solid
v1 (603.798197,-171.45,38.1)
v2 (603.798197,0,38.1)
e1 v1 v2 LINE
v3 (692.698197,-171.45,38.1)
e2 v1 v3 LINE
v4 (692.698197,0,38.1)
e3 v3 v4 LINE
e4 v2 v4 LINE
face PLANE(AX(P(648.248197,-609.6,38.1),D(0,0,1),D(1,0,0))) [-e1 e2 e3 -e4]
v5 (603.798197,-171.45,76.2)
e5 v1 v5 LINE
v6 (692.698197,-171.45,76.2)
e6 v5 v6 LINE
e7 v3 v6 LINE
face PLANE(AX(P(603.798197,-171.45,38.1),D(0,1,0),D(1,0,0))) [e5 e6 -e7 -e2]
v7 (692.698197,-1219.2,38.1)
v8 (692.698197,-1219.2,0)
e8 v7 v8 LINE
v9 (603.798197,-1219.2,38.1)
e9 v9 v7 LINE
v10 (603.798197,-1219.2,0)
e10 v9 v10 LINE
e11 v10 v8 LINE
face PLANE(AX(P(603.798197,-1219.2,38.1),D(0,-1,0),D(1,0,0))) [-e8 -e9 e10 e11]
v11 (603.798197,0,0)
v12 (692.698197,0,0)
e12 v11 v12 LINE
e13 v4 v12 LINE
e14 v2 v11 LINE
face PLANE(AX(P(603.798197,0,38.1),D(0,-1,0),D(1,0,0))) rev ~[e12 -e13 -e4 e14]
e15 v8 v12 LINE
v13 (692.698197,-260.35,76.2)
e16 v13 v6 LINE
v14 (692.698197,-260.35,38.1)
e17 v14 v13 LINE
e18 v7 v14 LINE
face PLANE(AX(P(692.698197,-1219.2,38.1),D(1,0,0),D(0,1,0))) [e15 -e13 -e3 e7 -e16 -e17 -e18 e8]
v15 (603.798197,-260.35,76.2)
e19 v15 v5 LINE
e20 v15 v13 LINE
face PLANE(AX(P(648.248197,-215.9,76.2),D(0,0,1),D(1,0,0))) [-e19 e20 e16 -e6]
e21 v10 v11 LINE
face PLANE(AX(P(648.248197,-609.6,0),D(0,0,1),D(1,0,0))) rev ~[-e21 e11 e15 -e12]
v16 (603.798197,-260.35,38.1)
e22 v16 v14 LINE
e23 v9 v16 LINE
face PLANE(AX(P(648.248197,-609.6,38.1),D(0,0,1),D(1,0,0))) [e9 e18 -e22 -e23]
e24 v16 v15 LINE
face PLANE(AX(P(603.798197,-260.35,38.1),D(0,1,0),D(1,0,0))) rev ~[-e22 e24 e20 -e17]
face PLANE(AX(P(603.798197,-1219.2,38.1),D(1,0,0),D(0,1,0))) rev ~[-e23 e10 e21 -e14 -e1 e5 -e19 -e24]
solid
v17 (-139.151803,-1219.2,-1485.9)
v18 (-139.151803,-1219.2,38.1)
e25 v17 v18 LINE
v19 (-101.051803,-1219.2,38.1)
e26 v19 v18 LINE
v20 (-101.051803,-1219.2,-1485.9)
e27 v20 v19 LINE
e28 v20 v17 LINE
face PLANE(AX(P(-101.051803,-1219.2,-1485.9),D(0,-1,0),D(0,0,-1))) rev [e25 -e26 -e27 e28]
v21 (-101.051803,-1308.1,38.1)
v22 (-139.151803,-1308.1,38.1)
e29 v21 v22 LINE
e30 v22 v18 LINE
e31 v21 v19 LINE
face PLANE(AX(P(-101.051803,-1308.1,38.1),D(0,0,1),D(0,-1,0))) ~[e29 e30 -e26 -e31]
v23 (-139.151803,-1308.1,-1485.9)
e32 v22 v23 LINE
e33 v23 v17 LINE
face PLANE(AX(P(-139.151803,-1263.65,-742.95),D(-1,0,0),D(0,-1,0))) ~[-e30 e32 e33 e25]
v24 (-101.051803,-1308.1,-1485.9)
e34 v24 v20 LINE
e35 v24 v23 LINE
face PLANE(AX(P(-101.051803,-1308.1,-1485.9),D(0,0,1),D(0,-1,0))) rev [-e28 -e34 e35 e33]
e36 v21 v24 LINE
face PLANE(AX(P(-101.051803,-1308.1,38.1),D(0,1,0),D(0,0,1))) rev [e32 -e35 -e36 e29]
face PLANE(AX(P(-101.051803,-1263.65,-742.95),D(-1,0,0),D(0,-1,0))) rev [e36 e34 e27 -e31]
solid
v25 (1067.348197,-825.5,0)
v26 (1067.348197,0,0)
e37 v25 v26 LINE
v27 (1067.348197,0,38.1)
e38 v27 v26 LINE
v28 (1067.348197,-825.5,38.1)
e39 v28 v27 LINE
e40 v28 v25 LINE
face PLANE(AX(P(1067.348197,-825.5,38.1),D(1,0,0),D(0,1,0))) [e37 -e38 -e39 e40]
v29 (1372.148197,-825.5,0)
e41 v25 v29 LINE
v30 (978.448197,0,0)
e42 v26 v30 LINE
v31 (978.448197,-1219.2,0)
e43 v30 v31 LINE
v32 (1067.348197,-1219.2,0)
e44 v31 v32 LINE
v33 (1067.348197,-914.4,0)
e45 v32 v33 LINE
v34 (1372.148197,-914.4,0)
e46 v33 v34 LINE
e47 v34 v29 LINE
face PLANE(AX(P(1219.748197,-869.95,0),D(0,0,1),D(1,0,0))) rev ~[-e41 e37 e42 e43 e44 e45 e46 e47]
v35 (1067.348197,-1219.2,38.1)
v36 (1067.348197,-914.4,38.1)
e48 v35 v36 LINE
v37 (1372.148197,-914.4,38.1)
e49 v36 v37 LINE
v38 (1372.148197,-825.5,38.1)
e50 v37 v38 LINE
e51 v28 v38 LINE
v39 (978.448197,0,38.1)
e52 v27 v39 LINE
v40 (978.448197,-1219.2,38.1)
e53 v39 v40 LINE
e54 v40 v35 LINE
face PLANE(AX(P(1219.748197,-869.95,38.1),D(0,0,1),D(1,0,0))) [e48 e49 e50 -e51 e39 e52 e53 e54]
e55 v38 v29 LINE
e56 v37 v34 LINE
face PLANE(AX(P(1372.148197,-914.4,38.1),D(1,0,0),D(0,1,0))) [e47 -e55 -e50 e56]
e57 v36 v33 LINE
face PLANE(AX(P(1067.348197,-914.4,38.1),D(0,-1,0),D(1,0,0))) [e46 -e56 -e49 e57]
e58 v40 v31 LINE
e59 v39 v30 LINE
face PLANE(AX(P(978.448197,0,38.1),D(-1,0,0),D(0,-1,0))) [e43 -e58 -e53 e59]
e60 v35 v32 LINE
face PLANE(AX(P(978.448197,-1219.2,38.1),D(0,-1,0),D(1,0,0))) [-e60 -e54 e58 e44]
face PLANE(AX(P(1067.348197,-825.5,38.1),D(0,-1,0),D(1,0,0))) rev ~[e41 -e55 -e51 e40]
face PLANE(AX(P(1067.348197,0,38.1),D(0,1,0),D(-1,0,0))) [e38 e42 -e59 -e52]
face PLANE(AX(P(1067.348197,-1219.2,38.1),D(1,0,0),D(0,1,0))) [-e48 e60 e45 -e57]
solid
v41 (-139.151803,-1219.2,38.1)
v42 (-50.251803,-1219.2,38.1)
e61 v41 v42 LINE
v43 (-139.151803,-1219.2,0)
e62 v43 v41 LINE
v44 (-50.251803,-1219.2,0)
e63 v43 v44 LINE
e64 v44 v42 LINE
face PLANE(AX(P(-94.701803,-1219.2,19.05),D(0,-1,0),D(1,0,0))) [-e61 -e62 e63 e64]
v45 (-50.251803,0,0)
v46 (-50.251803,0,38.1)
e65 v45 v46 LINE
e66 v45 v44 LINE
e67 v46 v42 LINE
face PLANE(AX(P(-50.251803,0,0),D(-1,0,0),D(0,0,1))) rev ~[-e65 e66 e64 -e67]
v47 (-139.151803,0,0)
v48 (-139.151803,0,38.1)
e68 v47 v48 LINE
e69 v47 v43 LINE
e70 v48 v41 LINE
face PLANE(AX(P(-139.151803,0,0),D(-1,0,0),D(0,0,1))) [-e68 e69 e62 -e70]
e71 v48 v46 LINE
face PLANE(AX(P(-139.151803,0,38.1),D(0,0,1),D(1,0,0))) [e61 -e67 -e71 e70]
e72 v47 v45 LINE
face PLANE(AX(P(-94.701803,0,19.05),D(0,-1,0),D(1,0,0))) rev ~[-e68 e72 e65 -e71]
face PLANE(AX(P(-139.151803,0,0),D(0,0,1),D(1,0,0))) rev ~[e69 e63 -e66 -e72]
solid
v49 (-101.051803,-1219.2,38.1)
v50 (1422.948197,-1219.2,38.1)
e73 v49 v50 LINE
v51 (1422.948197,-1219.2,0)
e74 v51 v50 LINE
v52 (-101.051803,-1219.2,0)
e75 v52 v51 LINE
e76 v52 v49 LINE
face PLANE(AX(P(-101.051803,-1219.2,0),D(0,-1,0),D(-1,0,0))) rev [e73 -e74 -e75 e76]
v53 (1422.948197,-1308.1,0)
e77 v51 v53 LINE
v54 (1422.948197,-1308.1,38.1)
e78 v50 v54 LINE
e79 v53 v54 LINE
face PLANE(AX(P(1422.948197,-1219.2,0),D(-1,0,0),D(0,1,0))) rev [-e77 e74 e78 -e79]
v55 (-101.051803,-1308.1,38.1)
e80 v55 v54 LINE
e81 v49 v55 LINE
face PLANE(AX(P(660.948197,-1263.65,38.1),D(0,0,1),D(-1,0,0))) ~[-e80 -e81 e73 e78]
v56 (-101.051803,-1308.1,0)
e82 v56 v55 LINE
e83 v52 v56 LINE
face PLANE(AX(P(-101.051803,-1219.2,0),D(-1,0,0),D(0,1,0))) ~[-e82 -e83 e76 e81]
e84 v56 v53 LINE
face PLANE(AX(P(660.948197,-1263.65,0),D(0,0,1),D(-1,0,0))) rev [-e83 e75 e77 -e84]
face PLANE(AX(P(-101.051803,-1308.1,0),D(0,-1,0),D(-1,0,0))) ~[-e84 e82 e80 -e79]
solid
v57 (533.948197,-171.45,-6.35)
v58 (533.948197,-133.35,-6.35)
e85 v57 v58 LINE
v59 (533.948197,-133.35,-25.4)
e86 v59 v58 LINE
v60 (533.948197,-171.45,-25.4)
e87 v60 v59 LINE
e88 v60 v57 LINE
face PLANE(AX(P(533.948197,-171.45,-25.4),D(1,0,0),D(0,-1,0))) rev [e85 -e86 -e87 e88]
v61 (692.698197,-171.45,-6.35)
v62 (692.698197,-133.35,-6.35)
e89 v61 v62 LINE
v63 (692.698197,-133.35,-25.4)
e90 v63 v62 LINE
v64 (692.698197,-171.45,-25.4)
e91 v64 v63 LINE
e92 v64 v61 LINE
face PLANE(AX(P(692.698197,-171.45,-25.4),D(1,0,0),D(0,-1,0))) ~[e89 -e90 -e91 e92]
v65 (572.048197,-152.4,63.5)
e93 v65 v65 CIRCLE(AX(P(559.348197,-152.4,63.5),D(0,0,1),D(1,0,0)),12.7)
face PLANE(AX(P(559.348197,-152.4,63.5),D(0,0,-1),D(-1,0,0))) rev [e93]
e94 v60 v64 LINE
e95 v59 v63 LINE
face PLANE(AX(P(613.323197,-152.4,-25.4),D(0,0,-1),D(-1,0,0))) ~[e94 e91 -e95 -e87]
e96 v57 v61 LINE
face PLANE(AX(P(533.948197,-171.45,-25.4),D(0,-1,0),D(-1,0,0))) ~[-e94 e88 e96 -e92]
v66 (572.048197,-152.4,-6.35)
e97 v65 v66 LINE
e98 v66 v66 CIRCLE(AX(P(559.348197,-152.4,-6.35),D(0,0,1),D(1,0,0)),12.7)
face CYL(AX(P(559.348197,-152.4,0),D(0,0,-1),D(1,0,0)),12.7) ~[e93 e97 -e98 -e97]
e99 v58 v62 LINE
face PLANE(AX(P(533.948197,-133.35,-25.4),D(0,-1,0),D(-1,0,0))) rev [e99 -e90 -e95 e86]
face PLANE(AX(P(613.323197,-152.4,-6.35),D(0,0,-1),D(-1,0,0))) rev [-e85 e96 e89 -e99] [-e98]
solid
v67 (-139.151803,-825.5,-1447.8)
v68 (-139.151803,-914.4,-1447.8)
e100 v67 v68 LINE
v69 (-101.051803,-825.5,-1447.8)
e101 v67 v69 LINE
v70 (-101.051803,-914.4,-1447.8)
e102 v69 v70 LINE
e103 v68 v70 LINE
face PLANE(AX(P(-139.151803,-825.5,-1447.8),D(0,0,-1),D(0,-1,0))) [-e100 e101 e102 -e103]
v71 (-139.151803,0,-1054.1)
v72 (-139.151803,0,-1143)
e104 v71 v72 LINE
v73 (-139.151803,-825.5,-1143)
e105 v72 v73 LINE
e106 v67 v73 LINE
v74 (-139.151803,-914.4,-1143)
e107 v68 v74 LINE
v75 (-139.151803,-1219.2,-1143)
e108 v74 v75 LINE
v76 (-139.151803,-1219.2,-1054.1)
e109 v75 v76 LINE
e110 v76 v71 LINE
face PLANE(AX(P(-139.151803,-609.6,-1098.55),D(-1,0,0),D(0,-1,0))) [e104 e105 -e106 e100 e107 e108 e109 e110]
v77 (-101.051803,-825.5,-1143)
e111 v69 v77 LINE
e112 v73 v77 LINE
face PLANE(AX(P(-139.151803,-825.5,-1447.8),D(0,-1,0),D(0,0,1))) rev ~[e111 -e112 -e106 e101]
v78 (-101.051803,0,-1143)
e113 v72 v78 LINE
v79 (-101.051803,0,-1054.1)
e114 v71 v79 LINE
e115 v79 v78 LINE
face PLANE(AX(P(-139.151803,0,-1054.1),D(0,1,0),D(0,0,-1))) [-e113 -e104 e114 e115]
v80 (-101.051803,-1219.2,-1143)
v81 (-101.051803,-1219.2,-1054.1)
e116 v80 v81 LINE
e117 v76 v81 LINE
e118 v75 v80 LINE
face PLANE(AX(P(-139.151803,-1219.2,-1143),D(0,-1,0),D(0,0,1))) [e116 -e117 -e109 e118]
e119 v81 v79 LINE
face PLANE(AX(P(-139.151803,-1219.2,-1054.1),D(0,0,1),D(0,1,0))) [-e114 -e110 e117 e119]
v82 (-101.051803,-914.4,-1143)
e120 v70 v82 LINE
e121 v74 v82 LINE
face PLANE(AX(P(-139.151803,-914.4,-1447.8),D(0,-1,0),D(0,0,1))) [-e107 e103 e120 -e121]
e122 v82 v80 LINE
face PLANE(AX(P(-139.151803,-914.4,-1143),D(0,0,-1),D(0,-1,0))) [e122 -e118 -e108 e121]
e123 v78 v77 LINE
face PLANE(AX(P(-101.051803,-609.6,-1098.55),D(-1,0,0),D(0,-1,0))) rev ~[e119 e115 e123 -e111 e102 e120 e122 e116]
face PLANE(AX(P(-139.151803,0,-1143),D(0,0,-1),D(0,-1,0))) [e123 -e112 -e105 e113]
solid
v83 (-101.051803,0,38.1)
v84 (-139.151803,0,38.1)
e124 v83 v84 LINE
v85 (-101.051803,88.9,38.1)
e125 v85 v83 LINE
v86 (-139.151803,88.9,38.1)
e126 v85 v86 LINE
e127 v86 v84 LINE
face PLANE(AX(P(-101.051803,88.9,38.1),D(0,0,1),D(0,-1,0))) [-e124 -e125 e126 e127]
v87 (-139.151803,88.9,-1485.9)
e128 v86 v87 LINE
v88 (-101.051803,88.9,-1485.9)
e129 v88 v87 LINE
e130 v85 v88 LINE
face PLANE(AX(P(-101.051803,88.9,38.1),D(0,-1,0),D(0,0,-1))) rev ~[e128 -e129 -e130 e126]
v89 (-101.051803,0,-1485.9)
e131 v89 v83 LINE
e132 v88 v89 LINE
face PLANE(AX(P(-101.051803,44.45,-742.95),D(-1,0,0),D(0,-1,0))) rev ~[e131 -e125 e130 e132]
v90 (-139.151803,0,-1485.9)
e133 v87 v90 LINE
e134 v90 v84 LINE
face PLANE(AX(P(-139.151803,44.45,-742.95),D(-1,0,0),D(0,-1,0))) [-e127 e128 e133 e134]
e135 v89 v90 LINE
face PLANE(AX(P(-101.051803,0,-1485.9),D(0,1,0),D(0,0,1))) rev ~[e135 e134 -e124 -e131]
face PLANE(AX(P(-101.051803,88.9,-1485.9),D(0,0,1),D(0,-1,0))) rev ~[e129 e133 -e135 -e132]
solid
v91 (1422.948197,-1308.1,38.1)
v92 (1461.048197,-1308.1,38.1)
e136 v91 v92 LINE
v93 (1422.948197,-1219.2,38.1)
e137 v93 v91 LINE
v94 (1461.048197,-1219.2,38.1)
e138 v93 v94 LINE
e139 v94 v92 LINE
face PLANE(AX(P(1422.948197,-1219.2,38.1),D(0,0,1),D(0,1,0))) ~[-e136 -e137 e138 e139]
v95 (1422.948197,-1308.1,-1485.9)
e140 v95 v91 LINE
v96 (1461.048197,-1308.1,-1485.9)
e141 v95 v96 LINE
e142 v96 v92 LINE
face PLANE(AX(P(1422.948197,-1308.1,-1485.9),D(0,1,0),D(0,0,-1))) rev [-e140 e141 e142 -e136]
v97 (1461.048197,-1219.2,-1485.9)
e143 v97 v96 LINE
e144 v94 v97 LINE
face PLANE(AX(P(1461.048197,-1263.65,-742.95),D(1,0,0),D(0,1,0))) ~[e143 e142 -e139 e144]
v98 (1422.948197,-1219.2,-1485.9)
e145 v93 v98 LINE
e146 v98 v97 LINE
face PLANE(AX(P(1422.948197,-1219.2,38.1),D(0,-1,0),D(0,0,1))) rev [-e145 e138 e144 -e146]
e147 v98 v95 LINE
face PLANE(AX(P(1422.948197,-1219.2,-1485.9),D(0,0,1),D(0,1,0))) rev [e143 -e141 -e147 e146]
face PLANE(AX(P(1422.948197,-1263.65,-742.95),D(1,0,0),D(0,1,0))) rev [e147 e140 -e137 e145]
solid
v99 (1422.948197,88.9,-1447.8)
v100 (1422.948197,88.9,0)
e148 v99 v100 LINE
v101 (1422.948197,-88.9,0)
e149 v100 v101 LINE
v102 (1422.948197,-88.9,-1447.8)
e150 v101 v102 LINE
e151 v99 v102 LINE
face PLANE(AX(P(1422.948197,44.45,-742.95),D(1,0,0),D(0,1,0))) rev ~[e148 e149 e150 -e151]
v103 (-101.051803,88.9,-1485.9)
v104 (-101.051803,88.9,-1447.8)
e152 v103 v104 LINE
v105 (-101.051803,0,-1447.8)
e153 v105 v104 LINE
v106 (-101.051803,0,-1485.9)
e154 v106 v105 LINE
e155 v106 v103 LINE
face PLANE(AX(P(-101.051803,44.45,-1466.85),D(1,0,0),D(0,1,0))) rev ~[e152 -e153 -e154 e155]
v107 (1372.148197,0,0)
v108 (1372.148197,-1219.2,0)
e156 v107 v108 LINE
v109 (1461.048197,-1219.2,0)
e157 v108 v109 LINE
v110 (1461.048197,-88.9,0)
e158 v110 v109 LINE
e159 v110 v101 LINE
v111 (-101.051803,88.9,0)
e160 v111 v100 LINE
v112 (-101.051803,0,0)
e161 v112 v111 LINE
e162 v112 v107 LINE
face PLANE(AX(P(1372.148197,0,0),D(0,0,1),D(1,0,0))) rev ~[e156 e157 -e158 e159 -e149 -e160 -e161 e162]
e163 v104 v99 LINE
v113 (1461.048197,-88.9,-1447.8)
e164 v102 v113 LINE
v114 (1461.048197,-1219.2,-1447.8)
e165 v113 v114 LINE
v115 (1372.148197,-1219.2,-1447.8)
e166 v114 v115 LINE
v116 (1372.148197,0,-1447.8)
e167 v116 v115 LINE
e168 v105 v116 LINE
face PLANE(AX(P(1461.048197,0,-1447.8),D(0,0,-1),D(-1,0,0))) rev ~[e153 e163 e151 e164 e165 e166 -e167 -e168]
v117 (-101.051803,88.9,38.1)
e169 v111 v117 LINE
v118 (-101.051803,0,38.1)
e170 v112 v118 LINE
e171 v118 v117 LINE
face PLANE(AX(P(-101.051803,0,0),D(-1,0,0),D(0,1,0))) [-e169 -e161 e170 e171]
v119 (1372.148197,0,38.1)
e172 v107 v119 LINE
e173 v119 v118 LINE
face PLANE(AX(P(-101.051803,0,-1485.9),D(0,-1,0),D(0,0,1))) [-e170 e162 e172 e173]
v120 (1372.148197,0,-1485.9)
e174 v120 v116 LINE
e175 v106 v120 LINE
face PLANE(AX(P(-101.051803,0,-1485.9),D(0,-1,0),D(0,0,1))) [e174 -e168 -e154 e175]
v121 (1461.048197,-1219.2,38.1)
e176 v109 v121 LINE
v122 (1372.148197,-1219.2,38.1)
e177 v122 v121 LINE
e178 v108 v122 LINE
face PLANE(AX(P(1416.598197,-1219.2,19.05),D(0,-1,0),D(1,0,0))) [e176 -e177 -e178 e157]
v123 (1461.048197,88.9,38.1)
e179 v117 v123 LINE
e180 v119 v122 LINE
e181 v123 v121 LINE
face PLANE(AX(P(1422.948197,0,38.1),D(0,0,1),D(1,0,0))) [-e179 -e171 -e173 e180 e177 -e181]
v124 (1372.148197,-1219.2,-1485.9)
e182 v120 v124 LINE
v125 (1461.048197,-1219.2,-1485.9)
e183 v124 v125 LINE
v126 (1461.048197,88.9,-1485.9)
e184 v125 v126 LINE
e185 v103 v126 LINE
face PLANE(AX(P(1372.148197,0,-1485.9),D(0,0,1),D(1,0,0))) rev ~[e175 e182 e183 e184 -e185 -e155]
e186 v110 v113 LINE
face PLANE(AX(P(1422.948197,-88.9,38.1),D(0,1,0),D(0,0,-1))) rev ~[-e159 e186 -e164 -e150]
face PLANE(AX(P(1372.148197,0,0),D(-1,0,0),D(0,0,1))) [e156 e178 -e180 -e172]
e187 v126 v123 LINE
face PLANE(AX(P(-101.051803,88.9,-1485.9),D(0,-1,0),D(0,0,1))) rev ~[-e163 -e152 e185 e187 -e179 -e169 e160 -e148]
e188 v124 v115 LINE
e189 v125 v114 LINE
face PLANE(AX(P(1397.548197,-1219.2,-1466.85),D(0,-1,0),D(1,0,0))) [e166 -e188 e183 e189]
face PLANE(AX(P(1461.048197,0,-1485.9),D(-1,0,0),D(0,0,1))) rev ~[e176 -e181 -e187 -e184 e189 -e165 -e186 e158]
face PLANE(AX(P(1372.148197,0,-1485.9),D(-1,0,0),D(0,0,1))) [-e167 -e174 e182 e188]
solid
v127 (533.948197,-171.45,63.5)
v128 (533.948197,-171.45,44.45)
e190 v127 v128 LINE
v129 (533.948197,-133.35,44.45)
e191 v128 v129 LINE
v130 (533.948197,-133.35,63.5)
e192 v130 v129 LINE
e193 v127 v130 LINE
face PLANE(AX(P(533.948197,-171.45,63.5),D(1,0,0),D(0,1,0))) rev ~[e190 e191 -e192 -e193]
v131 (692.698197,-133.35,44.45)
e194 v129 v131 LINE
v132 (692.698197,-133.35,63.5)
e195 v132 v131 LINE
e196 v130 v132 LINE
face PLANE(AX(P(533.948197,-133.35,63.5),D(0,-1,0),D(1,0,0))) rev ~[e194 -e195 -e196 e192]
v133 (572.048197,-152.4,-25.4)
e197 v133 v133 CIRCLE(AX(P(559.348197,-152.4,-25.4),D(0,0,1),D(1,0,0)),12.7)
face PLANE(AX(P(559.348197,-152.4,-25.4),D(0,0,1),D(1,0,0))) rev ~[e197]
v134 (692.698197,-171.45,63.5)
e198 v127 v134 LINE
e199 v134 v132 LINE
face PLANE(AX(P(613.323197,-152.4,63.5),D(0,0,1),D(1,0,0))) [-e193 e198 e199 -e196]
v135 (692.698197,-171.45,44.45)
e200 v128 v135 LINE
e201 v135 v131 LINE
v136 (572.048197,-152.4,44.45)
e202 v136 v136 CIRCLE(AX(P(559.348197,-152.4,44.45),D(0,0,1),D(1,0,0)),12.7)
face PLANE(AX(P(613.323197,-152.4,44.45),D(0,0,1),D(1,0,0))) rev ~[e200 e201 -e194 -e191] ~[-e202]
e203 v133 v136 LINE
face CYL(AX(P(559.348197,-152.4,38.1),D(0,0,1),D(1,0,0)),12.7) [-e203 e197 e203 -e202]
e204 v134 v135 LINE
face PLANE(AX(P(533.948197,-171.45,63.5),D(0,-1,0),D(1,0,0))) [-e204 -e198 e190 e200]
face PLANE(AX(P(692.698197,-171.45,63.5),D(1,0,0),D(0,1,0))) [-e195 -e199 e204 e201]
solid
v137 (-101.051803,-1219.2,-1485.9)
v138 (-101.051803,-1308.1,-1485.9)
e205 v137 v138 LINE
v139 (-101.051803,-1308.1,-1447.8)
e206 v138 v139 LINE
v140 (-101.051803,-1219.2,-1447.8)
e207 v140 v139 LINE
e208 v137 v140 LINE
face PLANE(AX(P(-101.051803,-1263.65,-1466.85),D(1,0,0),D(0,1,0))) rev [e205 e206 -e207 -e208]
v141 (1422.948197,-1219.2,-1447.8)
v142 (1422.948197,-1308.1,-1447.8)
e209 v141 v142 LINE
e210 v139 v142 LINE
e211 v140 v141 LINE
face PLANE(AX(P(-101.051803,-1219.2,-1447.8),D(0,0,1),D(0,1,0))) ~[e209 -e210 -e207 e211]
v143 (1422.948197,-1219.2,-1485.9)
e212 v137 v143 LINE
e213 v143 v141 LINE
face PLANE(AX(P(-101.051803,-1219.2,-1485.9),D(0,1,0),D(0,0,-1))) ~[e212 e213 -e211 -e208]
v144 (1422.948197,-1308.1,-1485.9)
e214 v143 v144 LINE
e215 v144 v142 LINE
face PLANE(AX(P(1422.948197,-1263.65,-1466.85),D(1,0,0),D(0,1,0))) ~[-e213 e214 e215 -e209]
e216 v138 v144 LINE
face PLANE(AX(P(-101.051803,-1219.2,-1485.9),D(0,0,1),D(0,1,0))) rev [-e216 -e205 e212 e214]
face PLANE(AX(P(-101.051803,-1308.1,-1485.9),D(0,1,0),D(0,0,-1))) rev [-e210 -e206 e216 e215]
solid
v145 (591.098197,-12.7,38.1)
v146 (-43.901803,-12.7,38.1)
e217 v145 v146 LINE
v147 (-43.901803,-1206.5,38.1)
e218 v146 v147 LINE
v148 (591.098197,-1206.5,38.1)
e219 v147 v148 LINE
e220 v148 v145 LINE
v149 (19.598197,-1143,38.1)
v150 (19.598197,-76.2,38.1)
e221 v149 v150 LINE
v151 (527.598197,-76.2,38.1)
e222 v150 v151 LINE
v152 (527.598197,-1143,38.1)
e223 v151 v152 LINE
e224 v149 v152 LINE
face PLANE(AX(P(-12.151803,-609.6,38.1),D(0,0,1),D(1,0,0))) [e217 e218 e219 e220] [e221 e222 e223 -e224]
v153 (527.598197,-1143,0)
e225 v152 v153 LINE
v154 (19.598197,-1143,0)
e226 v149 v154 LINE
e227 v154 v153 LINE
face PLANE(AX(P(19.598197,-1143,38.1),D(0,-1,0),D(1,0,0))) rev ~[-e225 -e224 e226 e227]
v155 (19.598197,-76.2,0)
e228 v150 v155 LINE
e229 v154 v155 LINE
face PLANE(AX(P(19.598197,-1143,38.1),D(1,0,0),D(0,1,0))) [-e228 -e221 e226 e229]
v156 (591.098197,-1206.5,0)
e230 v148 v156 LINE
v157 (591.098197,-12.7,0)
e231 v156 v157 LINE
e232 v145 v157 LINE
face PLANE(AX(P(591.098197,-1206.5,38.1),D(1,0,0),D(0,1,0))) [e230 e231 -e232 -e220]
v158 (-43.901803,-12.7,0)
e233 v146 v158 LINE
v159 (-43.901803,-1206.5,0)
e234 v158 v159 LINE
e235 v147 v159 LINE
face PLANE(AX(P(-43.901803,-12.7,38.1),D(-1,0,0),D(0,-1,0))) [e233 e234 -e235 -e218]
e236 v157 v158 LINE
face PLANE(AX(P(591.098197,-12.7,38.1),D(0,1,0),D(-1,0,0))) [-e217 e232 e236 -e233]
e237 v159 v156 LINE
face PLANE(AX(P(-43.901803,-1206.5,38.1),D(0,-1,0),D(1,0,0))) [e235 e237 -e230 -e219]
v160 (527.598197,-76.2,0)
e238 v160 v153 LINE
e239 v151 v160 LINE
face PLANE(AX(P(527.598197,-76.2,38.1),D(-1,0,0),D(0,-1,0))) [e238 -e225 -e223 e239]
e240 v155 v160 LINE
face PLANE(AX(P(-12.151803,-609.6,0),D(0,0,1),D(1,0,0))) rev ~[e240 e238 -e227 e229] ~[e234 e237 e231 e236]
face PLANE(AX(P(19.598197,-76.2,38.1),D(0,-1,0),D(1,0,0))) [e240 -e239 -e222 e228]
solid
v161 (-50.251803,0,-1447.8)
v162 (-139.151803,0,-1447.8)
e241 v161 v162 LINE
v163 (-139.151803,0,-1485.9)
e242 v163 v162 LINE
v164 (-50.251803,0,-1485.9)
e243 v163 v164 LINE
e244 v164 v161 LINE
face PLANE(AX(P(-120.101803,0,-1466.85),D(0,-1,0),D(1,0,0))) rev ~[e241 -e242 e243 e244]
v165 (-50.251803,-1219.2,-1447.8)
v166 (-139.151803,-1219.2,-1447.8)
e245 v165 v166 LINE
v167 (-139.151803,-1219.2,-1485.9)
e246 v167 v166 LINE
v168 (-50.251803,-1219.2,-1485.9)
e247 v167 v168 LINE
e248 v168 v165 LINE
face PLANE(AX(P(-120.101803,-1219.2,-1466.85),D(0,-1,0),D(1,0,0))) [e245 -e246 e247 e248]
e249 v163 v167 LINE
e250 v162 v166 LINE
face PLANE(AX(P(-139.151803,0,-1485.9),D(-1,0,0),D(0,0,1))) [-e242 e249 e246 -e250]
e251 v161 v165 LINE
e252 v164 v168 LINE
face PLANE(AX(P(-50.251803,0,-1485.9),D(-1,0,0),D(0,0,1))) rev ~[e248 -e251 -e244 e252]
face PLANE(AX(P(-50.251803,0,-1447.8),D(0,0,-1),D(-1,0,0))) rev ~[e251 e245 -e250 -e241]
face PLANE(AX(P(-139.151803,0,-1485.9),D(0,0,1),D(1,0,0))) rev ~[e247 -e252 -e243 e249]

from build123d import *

# Parameters (mm, degrees)
F0_W           = 1524
F0_H           = 88.9
F1_DEPTH       = 38.1
F2_W           = 88.9
F2_H           = 1485.9
F2_H_2         = 38.1
F3_DEPTH       = 38.1
F4_W           = 88.9
F4_H           = 1485.9
F4_H_2         = 38.1
F5_DEPTH       = 38.1
F6_W           = 88.9
F6_H           = 38.1
F7_DEPTH       = 1524
F8_W           = 88.9
F8_H           = 38.1
F9_DEPTH       = 1219.2
F8_W_2         = 50.8
F8_W_3         = 38.1
F12_DEPTH      = 88.9
F13_W          = 508
F13_H          = 63.5
F14_DEPTH      = 38.1
F15_W          = 88.9
F15_H          = 1219.2
F16_DEPTH      = 38.1
F17_R          = 12.7
F18_DEPTH      = 25.4
F18_DEPTH_BACK = 63.5
F19_W          = 158.75
F19_H          = 38.1
F19_R          = 12.7
F20_DEPTH      = 19.05
F23_W          = 88.9
F23_H          = 88.9
F24_DEPTH      = 38.1
F25_W          = 304.8
F25_H          = 88.9
F26_DEPTH      = 38.1
F27_W          = 88.9
F27_H          = 304.8
F28_DEPTH      = 38.1


with BuildPart() as f1:
    # F0 (on Top) → F1 (new body)
    with BuildSketch(Plane.XY):
        with Locations((660.9481970845, 44.45)):
            Rectangle(F0_W, F0_H)
    extrude(amount=F1_DEPTH)


with BuildPart() as f3:
    # F2 (on face) → F3 (new body)
    with BuildSketch(Plane.YZ.offset(1422.9481970845)):
        with Locations((44.45, -742.95)):
            Rectangle(F2_W, F2_H)
        with Locations((44.45, 19.05)):
            Rectangle(F2_W, F2_H_2)
    extrude(amount=F3_DEPTH)


with BuildPart() as f5:
    # F4 (on face) → F5 (new body)
    with BuildSketch(Plane(origin=(-101.0518029155, 0, 0), x_dir=(0, -1, 0), z_dir=(-1, 0, 0))):
        with Locations((-44.45, -742.95)):
            Rectangle(F4_W, F4_H)
        with Locations((-44.45, 19.05)):
            Rectangle(F4_W, F4_H_2)
    extrude(amount=F5_DEPTH)


with BuildPart() as f7:
    # F6 (on face) → F7 (new body)
    with BuildSketch(Plane.YZ.offset(-101.0518029155)):
        with Locations((44.45, -1466.85)):
            Rectangle(F6_W, F6_H)
    extrude(amount=F7_DEPTH)


with BuildPart() as f9:
    # F8 (on face) → F9 (new body)
    with BuildSketch(Plane.XZ):
        with Locations((-94.7018029155, 19.05)):
            Rectangle(F8_W, F8_H)
    extrude(amount=F9_DEPTH)


with BuildPart() as f9b:
    # F8 (on face) → F9, piece 2 (new body)
    with BuildSketch(Plane.XZ):
        with Locations((1416.5981970845, 19.05)):
            Rectangle(F8_W, F8_H)
    extrude(amount=F9_DEPTH)


with BuildPart() as f9c:
    # F8 (on face) → F9, piece 3 (new body)
    with BuildSketch(Plane.XZ):
        with Locations((1397.5481970845, -1466.85)):
            Rectangle(F8_W_2, F8_H)
        with Locations((1441.9981970845, -1466.85)):
            Rectangle(F8_W_3, F8_H)
    extrude(amount=F9_DEPTH)


with BuildPart() as f9d:
    # F8 (on face) → F9, piece 4 (new body)
    with BuildSketch(Plane.XZ):
        with Locations((-120.1018029155, -1466.85)):
            Rectangle(F8_W_3, F8_H)
        with Locations((-75.6518029155, -1466.85)):
            Rectangle(F8_W_2, F8_H)
    extrude(amount=F9_DEPTH)


with BuildPart() as f11_1:
    # F11: instance of F7
    add(f7.part.mirror(Plane(origin=(1416.5981970845, -609.6, -1466.85), x_dir=(1, 0, 0), z_dir=(0, -1, 0))))


with BuildPart() as f11_2:
    # F11: instance of F5
    add(f5.part.mirror(Plane(origin=(1416.5981970845, -609.6, -1466.85), x_dir=(1, 0, 0), z_dir=(0, -1, 0))))


with BuildPart() as f11_3:
    # F11: instance of F1
    add(f1.part.mirror(Plane(origin=(1416.5981970845, -609.6, -1466.85), x_dir=(1, 0, 0), z_dir=(0, -1, 0))))


with BuildPart() as f11_4:
    # F11: instance of F3
    add(f3.part.mirror(Plane(origin=(1416.5981970845, -609.6, -1466.85), x_dir=(1, 0, 0), z_dir=(0, -1, 0))))


with BuildPart() as f1_1:
    add(f1.part)

    # F12 (add): a face of the model
    f12_faces = [f3.part.faces().sort_by_distance(p)[0] for p in [
        (1441.9981970845, 0, -723.9),
    ]]

    add(f3.part)  # F12 merges F3

    add(f7.part)  # F12 merges F7

    add(f9b.part)  # F12 merges F9b

    add(f9c.part)  # F12 merges F9c
    extrude(f12_faces, amount=F12_DEPTH)


with BuildPart() as f14:
    # F13 (on face) → F14 (new body)
    with BuildSketch(Plane.XY.offset(38.1)):
        Polygon((19.5981970845, -12.7), (-43.9018029155, -12.7), (-43.9018029155, -1206.5), (19.5981970845, -1206.5), (19.5981970845, -1143), (19.5981970845, -76.2), align=None)
        with Locations((273.5981970845, -44.45)):
            Rectangle(F13_W, F13_H)
        Polygon((591.0981970845, -12.7), (527.5981970845, -12.7), (527.5981970845, -76.2), (527.5981970845, -1143), (527.5981970845, -1206.5), (591.0981970845, -1206.5), align=None)
        with Locations((273.5981970845, -1174.75)):
            Rectangle(F13_W, F13_H)
    extrude(amount=-F14_DEPTH)


with BuildPart() as f16:
    # F15 (on face) → F16 (new body)
    with BuildSketch(Plane.XY.offset(38.1)):
        with Locations((648.2481970845, -609.6)):
            Rectangle(F15_W, F15_H)
    extrude(amount=-F16_DEPTH)

    # F23 (on face) → F24 (join)
    with BuildSketch(Plane.XY.offset(38.1)):
        with Locations((648.2481970845, -215.9)):
            Rectangle(F23_W, F23_H)
    extrude(amount=F24_DEPTH)


with BuildPart() as f18:
    # F17 (on face) → F18 (new body, two sides)
    with BuildSketch(Plane.XY.offset(38.1)) as f18_sk:
        with Locations((559.3481970845, -152.4)):
            Circle(F17_R)
    extrude(amount=F18_DEPTH)
    extrude(f18_sk.sketch, amount=-F18_DEPTH_BACK)

    # F19 (on face) → F20 (join)
    with BuildSketch(Plane.XY.offset(63.5)):
        with Locations((613.3231970845, -152.4)):
            Rectangle(F19_W, F19_H)
        with Locations((559.3481970845, -152.4)):
            Circle(F19_R, mode=Mode.SUBTRACT)
    extrude(amount=-F20_DEPTH)


with BuildPart() as f22_1:
    # F22: instance of F18
    add(f18.part.mirror(Plane(origin=(648.2481970845, -609.6, 19.05), x_dir=(1, 0, 0), z_dir=(0, 0, 1))))


with BuildPart() as f26:
    # F25 (on face) → F26 (new body)
    with BuildSketch(Plane.XY.offset(38.1)):
        with Locations((1219.7481970845, -869.95)):
            Rectangle(F25_W, F25_H)
        Polygon((1067.3481970845, -825.5), (1067.3481970845, 0), (978.4481970845, 0), (978.4481970845, -1219.2), (1067.3481970845, -1219.2), (1067.3481970845, -914.4), align=None)
    extrude(amount=-F26_DEPTH)


with BuildPart() as f28:
    # F27 (on face) → F28 (new body)
    with BuildSketch(Plane(origin=(-139.1518029155, 0, 0), x_dir=(0, -1, 0), z_dir=(-1, 0, 0))):
        Polygon((1219.2, -1143), (1219.2, -1054.1), (0, -1054.1), (0, -1143), (825.5, -1143), (914.4, -1143), align=None)
        with Locations((869.95, -1295.4)):
            Rectangle(F27_W, F27_H)
    extrude(amount=-F28_DEPTH)


solid = Compound([f5.part, f9.part, f9d.part, f11_1.part, f11_2.part, f11_3.part, f11_4.part, f1_1.part, f14.part, f16.part, f18.part, f22_1.part, f26.part, f28.part])
